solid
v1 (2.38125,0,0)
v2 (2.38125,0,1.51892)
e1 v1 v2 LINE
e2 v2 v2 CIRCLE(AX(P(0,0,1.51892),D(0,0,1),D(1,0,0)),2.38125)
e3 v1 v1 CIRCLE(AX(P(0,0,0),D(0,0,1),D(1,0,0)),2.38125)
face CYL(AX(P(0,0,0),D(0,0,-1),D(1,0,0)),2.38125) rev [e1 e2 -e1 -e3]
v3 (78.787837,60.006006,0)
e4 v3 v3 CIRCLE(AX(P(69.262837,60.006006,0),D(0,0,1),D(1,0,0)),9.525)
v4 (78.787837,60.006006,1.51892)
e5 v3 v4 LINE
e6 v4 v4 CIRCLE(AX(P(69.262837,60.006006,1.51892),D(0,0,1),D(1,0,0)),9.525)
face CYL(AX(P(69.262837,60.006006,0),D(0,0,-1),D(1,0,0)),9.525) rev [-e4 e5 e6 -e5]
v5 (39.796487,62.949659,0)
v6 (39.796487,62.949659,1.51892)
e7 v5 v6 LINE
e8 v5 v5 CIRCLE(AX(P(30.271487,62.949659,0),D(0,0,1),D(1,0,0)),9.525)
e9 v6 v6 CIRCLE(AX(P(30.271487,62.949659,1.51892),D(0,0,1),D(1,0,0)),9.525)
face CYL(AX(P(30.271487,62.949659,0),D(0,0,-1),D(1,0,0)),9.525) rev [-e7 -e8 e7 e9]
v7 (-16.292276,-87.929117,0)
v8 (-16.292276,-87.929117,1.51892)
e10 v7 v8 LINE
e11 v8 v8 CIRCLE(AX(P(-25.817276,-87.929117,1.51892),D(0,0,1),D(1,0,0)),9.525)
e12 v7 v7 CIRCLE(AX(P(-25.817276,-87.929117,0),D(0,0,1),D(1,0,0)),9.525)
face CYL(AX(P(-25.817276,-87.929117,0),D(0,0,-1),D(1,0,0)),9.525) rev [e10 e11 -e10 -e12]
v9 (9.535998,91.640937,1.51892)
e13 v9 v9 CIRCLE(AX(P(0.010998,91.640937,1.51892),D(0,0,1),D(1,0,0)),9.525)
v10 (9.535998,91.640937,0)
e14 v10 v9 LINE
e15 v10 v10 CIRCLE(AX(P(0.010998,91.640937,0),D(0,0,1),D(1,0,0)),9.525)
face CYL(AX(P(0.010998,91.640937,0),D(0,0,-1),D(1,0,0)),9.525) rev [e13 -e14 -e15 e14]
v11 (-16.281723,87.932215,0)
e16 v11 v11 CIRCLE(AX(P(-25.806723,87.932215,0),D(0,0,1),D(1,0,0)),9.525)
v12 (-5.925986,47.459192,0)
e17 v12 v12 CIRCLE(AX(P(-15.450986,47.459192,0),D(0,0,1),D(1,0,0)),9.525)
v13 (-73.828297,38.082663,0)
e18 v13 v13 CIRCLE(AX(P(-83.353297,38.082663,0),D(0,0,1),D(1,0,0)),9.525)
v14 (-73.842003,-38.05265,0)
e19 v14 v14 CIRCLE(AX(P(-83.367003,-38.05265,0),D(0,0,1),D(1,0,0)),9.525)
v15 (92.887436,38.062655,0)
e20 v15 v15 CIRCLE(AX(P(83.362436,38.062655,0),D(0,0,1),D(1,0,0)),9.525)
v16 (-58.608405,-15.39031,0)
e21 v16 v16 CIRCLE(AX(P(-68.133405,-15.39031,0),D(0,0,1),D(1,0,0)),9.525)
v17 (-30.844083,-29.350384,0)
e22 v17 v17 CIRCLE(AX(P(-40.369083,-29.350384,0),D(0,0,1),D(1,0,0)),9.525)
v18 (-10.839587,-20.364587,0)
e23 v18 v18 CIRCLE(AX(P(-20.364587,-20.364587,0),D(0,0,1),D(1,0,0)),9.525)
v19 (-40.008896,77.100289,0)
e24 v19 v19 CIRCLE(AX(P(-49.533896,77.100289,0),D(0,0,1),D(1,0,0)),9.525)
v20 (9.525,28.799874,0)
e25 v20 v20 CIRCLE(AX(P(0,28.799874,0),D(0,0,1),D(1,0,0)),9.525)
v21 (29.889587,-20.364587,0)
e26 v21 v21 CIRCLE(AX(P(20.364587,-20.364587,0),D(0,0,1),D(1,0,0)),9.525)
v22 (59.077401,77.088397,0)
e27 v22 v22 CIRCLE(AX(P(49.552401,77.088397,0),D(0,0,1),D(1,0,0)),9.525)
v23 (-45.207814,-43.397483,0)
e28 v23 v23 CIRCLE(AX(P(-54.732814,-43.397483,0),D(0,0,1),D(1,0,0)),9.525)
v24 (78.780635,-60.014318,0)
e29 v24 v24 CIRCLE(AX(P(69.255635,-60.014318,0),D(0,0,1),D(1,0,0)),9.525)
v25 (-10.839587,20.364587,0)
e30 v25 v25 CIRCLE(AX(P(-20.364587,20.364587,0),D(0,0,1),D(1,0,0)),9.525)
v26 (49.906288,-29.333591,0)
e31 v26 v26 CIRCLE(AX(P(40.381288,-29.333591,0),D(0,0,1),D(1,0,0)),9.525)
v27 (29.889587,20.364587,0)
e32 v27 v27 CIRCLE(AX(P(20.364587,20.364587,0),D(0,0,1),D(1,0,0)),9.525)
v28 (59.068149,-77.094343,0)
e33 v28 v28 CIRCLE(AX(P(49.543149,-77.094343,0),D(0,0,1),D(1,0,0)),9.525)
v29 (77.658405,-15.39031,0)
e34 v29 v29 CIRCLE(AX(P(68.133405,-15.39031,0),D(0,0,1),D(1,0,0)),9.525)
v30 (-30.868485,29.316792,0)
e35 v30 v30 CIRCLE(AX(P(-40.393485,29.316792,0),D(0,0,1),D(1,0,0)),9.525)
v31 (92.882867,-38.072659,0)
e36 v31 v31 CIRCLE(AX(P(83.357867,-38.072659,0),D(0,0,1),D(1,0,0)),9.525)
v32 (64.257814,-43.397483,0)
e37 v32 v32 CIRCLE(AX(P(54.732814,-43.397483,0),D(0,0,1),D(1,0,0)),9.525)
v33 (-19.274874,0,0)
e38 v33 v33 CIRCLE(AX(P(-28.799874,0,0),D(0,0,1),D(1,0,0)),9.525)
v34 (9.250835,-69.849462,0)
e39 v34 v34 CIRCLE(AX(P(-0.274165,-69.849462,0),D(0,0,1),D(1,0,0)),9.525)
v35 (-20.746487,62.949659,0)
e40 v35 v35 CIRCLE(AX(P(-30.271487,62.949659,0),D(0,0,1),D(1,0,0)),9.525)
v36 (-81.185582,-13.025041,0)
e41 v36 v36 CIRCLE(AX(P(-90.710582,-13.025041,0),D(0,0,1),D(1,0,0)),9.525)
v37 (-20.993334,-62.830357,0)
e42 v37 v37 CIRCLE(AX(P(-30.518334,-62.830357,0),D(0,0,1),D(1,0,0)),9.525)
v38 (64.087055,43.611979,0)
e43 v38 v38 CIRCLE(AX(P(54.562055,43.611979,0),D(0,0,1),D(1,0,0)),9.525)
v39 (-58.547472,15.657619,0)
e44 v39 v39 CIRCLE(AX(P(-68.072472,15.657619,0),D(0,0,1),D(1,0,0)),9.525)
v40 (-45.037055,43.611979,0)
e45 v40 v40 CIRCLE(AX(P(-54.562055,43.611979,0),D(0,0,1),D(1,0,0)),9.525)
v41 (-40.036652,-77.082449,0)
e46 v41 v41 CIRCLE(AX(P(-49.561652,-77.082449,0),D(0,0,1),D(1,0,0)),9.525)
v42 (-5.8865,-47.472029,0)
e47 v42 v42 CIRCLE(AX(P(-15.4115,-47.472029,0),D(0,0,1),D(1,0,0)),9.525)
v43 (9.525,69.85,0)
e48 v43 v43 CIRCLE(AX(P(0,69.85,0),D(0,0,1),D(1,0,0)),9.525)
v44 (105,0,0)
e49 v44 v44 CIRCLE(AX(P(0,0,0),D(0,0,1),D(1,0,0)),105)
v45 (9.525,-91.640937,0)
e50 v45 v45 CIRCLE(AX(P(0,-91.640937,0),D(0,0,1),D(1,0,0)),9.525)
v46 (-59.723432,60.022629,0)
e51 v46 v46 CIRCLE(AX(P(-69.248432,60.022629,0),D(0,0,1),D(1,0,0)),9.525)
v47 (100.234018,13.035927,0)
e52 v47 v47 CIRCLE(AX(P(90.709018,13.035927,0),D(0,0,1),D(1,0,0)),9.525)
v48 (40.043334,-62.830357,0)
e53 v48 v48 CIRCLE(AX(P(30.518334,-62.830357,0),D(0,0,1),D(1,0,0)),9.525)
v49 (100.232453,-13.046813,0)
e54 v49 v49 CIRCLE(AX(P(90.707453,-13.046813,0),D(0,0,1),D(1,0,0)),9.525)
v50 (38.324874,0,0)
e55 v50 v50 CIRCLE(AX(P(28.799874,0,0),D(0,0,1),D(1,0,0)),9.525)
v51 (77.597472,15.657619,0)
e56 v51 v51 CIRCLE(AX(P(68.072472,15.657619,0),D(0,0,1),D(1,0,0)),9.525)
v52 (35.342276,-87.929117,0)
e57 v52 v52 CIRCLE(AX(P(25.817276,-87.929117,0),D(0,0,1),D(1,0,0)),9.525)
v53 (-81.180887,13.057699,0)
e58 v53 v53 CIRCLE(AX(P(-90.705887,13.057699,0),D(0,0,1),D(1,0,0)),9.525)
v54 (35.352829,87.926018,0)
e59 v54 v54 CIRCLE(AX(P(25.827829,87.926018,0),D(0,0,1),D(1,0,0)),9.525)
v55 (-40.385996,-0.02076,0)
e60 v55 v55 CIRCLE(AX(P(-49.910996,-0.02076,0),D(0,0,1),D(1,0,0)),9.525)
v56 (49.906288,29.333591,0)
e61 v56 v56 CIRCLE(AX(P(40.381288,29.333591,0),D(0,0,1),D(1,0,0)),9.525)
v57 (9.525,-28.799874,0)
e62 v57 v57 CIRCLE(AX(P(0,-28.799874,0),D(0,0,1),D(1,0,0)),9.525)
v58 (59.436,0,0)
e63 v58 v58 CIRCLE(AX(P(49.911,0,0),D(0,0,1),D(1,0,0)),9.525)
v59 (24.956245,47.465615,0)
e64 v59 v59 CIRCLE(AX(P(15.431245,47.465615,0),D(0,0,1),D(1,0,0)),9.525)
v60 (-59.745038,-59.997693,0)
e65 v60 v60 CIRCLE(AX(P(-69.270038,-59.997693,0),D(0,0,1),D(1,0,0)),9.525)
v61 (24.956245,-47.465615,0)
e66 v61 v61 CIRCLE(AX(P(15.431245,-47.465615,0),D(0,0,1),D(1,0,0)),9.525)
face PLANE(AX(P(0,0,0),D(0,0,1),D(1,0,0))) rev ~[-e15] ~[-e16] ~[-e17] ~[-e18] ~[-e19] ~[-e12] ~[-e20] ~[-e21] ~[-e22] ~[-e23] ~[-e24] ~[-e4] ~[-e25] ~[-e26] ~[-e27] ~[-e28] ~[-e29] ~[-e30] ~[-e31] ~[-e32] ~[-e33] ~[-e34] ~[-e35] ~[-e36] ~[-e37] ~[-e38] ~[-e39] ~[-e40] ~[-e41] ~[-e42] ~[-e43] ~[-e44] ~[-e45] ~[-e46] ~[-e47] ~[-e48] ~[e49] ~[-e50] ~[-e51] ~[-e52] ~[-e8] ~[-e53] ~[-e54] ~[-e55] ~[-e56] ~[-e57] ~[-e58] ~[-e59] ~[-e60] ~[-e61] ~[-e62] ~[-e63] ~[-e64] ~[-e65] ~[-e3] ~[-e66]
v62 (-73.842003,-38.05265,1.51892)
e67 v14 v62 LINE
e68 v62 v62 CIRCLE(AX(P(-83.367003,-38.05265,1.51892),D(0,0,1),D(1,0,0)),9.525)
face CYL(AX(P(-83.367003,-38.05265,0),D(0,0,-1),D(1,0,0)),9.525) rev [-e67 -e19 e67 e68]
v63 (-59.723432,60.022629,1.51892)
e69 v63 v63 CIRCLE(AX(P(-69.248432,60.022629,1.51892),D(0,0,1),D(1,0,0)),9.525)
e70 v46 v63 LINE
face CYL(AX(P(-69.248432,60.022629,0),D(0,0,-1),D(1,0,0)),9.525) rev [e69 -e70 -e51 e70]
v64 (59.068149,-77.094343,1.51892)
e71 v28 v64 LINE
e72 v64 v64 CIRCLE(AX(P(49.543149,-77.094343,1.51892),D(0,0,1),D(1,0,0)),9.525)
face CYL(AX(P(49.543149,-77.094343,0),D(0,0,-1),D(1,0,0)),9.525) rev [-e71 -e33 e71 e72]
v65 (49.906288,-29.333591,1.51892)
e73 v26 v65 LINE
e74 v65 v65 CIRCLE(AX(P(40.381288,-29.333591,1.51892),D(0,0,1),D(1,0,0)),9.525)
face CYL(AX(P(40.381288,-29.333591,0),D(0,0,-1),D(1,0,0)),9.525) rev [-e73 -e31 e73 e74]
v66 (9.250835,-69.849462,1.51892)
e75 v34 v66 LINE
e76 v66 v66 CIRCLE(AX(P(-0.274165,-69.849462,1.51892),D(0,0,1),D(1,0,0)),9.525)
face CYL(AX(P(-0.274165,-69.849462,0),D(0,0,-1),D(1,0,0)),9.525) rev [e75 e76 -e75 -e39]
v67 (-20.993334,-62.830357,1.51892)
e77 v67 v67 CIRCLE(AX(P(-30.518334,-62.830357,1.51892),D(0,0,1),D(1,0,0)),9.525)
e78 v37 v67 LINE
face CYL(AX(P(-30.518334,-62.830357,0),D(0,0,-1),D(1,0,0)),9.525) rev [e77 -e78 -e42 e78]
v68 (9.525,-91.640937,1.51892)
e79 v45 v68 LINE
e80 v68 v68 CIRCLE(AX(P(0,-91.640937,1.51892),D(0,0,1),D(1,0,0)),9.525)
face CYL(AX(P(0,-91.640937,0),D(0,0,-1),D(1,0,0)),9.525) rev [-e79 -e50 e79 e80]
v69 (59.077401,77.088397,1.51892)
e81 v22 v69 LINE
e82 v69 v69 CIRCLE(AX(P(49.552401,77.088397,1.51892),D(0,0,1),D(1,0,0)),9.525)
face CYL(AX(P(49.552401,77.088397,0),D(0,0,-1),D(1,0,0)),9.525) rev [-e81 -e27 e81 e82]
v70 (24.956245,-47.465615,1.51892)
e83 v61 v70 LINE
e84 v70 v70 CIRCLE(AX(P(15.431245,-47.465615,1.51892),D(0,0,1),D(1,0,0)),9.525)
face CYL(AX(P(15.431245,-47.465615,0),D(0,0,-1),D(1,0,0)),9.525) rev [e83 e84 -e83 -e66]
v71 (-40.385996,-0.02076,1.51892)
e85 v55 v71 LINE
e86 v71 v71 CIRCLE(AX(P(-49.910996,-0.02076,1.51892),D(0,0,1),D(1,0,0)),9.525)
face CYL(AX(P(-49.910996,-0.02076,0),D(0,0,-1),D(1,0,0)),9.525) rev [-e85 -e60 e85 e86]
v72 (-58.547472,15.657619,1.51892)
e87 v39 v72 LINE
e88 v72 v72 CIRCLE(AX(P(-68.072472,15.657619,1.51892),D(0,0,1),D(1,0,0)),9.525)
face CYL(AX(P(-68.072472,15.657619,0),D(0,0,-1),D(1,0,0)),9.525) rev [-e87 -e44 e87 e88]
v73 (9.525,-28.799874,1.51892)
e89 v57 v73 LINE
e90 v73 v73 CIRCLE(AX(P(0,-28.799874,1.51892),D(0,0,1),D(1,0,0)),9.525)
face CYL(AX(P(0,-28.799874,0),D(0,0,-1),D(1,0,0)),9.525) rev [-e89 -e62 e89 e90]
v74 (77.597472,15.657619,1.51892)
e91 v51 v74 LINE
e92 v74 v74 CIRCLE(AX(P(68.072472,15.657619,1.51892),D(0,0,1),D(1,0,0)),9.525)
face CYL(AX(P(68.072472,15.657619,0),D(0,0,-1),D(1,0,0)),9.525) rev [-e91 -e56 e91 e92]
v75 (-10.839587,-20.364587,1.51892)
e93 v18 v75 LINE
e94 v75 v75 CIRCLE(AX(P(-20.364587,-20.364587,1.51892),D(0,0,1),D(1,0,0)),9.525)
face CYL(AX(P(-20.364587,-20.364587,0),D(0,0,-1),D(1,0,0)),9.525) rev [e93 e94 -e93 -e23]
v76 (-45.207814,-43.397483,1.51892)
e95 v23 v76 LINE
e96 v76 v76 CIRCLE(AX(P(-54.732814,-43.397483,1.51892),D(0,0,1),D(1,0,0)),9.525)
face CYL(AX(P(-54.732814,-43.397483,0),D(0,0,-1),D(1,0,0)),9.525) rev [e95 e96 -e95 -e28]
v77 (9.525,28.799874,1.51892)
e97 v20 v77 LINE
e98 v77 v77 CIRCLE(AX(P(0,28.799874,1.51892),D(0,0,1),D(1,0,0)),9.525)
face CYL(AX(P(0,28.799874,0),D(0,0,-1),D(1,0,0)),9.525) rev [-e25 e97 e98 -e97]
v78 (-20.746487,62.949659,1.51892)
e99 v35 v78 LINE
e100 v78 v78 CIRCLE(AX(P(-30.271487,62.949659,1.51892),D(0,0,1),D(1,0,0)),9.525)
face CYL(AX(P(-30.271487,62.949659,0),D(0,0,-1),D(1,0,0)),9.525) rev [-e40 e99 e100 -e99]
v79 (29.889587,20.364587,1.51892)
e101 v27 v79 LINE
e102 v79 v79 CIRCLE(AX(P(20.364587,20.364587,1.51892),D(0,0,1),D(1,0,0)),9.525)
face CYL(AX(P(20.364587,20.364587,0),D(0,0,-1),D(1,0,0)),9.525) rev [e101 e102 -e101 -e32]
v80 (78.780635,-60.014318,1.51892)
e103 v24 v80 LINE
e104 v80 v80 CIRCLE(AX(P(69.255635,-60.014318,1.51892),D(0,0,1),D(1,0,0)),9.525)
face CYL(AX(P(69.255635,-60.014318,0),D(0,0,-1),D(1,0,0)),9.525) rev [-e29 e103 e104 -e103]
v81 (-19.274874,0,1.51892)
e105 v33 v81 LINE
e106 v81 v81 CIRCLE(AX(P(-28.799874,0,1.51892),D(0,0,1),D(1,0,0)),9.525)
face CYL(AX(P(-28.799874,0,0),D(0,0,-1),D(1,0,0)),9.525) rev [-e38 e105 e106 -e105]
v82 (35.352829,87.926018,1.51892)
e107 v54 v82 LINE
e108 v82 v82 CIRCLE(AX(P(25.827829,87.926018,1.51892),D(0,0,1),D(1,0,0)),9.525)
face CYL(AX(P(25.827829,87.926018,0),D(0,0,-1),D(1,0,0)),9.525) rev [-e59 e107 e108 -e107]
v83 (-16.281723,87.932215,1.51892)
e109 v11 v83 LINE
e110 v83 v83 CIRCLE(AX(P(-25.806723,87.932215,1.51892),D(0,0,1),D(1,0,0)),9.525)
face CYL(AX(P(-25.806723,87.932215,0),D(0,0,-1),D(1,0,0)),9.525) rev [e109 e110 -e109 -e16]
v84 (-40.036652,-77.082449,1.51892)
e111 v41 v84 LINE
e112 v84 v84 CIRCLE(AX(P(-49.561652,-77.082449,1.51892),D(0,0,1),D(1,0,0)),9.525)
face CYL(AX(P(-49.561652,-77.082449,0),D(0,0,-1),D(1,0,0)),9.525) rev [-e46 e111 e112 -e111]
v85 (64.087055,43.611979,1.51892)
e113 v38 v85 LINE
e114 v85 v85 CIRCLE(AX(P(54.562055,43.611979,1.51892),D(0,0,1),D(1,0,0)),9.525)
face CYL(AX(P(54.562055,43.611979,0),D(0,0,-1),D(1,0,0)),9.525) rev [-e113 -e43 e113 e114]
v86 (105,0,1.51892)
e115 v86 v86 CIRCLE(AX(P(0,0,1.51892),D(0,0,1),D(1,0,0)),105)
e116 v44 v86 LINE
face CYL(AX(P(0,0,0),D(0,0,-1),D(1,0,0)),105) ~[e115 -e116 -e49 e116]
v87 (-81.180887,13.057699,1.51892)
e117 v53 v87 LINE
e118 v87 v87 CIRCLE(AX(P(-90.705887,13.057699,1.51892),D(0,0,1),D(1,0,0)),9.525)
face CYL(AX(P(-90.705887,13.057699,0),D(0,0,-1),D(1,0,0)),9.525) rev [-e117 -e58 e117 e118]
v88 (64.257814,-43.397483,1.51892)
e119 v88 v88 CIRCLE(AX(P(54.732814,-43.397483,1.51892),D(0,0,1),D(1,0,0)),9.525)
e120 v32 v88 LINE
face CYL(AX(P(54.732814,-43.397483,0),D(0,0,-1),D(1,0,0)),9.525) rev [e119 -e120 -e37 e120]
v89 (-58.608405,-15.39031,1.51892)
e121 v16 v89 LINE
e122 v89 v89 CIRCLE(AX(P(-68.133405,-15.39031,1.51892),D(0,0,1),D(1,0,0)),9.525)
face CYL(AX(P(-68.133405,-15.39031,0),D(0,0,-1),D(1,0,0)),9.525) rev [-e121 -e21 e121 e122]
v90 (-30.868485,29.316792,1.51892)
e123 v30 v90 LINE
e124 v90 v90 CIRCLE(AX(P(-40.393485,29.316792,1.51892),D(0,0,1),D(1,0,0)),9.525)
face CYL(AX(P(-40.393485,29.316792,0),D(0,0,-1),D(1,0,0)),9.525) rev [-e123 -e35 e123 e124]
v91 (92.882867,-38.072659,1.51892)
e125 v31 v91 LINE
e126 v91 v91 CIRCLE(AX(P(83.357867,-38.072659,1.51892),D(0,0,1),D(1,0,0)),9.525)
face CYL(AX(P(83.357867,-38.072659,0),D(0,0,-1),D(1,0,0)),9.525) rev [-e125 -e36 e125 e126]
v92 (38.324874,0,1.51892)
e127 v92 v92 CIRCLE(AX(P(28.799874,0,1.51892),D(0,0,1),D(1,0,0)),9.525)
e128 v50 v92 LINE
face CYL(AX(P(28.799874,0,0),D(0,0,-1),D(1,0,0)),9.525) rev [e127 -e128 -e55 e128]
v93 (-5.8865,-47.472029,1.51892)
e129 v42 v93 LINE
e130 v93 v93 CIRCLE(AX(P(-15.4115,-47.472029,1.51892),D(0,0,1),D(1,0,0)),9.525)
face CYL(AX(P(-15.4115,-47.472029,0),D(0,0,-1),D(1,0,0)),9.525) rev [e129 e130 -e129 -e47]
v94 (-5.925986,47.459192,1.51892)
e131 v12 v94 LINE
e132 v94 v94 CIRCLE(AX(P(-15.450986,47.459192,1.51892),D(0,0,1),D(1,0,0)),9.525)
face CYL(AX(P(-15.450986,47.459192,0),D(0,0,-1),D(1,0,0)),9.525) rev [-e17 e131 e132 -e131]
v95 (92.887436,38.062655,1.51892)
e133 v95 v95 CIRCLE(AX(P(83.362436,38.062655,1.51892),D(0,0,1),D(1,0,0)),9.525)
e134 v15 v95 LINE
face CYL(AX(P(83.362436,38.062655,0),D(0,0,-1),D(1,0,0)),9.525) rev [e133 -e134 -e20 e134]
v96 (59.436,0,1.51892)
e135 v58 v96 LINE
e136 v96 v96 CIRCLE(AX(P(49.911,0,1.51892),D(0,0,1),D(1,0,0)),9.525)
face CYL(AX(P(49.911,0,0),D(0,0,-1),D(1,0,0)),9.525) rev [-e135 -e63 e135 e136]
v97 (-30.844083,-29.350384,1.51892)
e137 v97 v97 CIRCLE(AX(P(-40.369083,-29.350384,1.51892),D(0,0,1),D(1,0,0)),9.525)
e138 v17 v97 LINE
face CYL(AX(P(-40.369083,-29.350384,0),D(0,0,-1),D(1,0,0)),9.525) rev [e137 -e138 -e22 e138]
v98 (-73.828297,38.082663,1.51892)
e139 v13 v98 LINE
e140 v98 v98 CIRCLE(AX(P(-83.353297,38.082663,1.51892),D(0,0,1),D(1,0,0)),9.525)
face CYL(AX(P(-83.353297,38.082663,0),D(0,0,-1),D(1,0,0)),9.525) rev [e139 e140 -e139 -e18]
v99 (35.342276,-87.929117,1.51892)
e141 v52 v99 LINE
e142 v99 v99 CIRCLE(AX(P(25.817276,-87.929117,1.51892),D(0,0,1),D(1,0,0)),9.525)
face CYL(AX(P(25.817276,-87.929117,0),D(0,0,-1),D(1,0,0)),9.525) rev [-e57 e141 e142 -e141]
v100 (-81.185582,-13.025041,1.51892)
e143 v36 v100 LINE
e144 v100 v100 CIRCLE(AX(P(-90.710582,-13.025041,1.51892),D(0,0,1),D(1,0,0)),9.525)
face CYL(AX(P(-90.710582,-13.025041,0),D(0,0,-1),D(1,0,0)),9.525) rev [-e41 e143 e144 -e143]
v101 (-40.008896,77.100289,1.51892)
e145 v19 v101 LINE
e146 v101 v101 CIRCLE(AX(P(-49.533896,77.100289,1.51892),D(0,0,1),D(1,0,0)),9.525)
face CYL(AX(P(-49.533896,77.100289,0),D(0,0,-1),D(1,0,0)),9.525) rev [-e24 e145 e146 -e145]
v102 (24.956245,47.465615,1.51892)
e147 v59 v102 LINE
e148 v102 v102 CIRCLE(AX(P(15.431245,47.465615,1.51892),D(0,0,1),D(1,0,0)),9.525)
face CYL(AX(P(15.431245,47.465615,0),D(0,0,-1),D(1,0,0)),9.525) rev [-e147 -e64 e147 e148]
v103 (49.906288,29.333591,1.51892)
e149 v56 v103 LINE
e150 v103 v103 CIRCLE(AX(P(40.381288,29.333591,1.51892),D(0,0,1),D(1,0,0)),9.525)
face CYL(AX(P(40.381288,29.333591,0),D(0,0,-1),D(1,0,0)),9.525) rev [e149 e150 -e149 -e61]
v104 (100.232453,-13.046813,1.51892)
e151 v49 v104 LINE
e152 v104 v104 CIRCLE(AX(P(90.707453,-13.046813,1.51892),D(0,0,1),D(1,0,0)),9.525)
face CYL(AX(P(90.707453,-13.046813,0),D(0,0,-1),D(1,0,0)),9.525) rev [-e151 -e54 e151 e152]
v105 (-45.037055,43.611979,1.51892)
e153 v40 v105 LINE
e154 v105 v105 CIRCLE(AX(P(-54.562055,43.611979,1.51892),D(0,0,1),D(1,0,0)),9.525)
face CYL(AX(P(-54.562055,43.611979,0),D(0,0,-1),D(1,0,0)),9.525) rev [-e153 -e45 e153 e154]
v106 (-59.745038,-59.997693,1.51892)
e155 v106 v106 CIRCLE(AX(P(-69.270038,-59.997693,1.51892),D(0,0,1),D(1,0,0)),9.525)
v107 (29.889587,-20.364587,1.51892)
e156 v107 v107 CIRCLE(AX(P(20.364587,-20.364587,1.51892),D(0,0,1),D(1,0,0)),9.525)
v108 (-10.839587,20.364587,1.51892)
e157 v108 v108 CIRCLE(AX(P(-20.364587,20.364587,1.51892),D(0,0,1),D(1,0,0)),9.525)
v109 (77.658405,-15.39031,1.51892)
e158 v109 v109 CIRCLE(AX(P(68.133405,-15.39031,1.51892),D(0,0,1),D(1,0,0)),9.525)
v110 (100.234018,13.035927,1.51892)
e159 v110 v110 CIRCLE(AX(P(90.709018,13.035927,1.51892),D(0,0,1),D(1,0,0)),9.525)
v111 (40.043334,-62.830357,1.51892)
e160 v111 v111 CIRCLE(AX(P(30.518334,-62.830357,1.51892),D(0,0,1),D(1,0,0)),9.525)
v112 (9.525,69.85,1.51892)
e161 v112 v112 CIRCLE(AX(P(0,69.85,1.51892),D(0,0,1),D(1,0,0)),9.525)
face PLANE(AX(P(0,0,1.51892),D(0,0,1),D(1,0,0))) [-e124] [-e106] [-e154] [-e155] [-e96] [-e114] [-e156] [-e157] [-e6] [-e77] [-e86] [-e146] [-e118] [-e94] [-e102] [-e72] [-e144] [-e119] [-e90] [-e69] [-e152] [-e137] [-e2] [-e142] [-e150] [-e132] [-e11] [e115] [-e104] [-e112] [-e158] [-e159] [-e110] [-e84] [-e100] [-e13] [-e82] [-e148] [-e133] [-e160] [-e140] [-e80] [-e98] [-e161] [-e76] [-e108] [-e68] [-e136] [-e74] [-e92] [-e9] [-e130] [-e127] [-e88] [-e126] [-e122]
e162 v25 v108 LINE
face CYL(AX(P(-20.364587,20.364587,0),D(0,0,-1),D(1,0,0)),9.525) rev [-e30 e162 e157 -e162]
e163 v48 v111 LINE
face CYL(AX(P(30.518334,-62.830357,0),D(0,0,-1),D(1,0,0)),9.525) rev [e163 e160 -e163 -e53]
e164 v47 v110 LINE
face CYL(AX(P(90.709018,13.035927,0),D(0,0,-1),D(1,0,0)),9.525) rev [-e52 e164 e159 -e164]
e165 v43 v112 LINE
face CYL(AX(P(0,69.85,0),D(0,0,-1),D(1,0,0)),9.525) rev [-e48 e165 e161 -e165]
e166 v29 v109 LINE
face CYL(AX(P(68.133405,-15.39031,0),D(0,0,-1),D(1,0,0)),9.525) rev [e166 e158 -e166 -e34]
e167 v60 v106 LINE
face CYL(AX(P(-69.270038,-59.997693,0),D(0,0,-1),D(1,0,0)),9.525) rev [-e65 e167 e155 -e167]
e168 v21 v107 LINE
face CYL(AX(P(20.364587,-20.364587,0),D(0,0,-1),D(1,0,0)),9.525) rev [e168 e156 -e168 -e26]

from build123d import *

# Parameters (mm, degrees)
F0_R     = 105
F0_R_2   = 9.525
F0_R_3   = 2.38125
F1_DEPTH = 1.51892


with BuildPart() as f1:
    # F0 (on Top) → F1 (new body)
    with BuildSketch(Plane.XY):
        Circle(F0_R)
        with Locations((-69.270038, -59.997693)):
            Circle(F0_R_2, mode=Mode.SUBTRACT)
        with Locations((-25.817276, -87.929117)):
            Circle(F0_R_2, mode=Mode.SUBTRACT)
        with Locations((-49.561652, -77.082449)):
            Circle(F0_R_2, mode=Mode.SUBTRACT)
        with Locations((-30.518334, -62.830357)):
            Circle(F0_R_2, mode=Mode.SUBTRACT)
        with Locations((-0.274165, -69.849462)):
            Circle(F0_R_2, mode=Mode.SUBTRACT)
        with Locations((-83.367003, -38.05265)):
            Circle(F0_R_2, mode=Mode.SUBTRACT)
        with Locations((-54.732814, -43.397483)):
            Circle(F0_R_2, mode=Mode.SUBTRACT)
        with Locations((-90.710582, -13.025041)):
            Circle(F0_R_2, mode=Mode.SUBTRACT)
        with Locations((-68.133405, -15.39031)):
            Circle(F0_R_2, mode=Mode.SUBTRACT)
        with Locations((-40.369083, -29.350384)):
            Circle(F0_R_2, mode=Mode.SUBTRACT)
        with Locations((-15.4115, -47.472029)):
            Circle(F0_R_2, mode=Mode.SUBTRACT)
        with Locations((-49.910996, -0.02076)):
            Circle(F0_R_2, mode=Mode.SUBTRACT)
        with Locations((-20.364587, -20.364587)):
            Circle(F0_R_2, mode=Mode.SUBTRACT)
        with Locations((0, -91.640937)):
            Circle(F0_R_2, mode=Mode.SUBTRACT)
        with Locations((25.817276, -87.929117)):
            Circle(F0_R_2, mode=Mode.SUBTRACT)
        with Locations((49.543149, -77.094343)):
            Circle(F0_R_2, mode=Mode.SUBTRACT)
        with Locations((30.518334, -62.830357)):
            Circle(F0_R_2, mode=Mode.SUBTRACT)
        with Locations((69.255635, -60.014318)):
            Circle(F0_R_2, mode=Mode.SUBTRACT)
        with Locations((15.431245, -47.465615)):
            Circle(F0_R_2, mode=Mode.SUBTRACT)
        with Locations((0, -28.799874)):
            Circle(F0_R_2, mode=Mode.SUBTRACT)
        with Locations((40.381288, -29.333591)):
            Circle(F0_R_2, mode=Mode.SUBTRACT)
        with Locations((20.364587, -20.364587)):
            Circle(F0_R_2, mode=Mode.SUBTRACT)
        with Locations((54.732814, -43.397483)):
            Circle(F0_R_2, mode=Mode.SUBTRACT)
        with Locations((83.357867, -38.072659)):
            Circle(F0_R_2, mode=Mode.SUBTRACT)
        with Locations((68.133405, -15.39031)):
            Circle(F0_R_2, mode=Mode.SUBTRACT)
        with Locations((90.707453, -13.046813)):
            Circle(F0_R_2, mode=Mode.SUBTRACT)
        with Locations((-90.705887, 13.057699)):
            Circle(F0_R_2, mode=Mode.SUBTRACT)
        with Locations((-68.072472, 15.657619)):
            Circle(F0_R_2, mode=Mode.SUBTRACT)
        with Locations((-83.353297, 38.082663)):
            Circle(F0_R_2, mode=Mode.SUBTRACT)
        with Locations((-54.562055, 43.611979)):
            Circle(F0_R_2, mode=Mode.SUBTRACT)
        with Locations((-28.799874, 0)):
            Circle(F0_R_2, mode=Mode.SUBTRACT)
        with Locations((-20.364587, 20.364587)):
            Circle(F0_R_2, mode=Mode.SUBTRACT)
        with Locations((-40.393485, 29.316792)):
            Circle(F0_R_2, mode=Mode.SUBTRACT)
        with Locations((-15.450986, 47.459192)):
            Circle(F0_R_2, mode=Mode.SUBTRACT)
        with Locations((-69.248432, 60.022629)):
            Circle(F0_R_2, mode=Mode.SUBTRACT)
        with Locations((-30.271487, 62.949659)):
            Circle(F0_R_2, mode=Mode.SUBTRACT)
        with Locations((-49.533896, 77.100289)):
            Circle(F0_R_2, mode=Mode.SUBTRACT)
        with Locations((-25.806723, 87.932215)):
            Circle(F0_R_2, mode=Mode.SUBTRACT)
        Circle(F0_R_3, mode=Mode.SUBTRACT)
        with Locations((20.364587, 20.364587)):
            Circle(F0_R_2, mode=Mode.SUBTRACT)
        with Locations((28.799874, 0)):
            Circle(F0_R_2, mode=Mode.SUBTRACT)
        with Locations((49.911, 0)):
            Circle(F0_R_2, mode=Mode.SUBTRACT)
        with Locations((0, 28.799874)):
            Circle(F0_R_2, mode=Mode.SUBTRACT)
        with Locations((15.431245, 47.465615)):
            Circle(F0_R_2, mode=Mode.SUBTRACT)
        with Locations((40.381288, 29.333591)):
            Circle(F0_R_2, mode=Mode.SUBTRACT)
        with Locations((68.072472, 15.657619)):
            Circle(F0_R_2, mode=Mode.SUBTRACT)
        with Locations((90.709018, 13.035927)):
            Circle(F0_R_2, mode=Mode.SUBTRACT)
        with Locations((54.562055, 43.611979)):
            Circle(F0_R_2, mode=Mode.SUBTRACT)
        with Locations((83.362436, 38.062655)):
            Circle(F0_R_2, mode=Mode.SUBTRACT)
        with Locations((0, 69.85)):
            Circle(F0_R_2, mode=Mode.SUBTRACT)
        with Locations((30.271487, 62.949659)):
            Circle(F0_R_2, mode=Mode.SUBTRACT)
        with Locations((49.552401, 77.088397)):
            Circle(F0_R_2, mode=Mode.SUBTRACT)
        with Locations((0.010998, 91.640937)):
            Circle(F0_R_2, mode=Mode.SUBTRACT)
        with Locations((25.827829, 87.926018)):
            Circle(F0_R_2, mode=Mode.SUBTRACT)
        with Locations((69.262837, 60.006006)):
            Circle(F0_R_2, mode=Mode.SUBTRACT)
    extrude(amount=F1_DEPTH)


solid = f1.part
